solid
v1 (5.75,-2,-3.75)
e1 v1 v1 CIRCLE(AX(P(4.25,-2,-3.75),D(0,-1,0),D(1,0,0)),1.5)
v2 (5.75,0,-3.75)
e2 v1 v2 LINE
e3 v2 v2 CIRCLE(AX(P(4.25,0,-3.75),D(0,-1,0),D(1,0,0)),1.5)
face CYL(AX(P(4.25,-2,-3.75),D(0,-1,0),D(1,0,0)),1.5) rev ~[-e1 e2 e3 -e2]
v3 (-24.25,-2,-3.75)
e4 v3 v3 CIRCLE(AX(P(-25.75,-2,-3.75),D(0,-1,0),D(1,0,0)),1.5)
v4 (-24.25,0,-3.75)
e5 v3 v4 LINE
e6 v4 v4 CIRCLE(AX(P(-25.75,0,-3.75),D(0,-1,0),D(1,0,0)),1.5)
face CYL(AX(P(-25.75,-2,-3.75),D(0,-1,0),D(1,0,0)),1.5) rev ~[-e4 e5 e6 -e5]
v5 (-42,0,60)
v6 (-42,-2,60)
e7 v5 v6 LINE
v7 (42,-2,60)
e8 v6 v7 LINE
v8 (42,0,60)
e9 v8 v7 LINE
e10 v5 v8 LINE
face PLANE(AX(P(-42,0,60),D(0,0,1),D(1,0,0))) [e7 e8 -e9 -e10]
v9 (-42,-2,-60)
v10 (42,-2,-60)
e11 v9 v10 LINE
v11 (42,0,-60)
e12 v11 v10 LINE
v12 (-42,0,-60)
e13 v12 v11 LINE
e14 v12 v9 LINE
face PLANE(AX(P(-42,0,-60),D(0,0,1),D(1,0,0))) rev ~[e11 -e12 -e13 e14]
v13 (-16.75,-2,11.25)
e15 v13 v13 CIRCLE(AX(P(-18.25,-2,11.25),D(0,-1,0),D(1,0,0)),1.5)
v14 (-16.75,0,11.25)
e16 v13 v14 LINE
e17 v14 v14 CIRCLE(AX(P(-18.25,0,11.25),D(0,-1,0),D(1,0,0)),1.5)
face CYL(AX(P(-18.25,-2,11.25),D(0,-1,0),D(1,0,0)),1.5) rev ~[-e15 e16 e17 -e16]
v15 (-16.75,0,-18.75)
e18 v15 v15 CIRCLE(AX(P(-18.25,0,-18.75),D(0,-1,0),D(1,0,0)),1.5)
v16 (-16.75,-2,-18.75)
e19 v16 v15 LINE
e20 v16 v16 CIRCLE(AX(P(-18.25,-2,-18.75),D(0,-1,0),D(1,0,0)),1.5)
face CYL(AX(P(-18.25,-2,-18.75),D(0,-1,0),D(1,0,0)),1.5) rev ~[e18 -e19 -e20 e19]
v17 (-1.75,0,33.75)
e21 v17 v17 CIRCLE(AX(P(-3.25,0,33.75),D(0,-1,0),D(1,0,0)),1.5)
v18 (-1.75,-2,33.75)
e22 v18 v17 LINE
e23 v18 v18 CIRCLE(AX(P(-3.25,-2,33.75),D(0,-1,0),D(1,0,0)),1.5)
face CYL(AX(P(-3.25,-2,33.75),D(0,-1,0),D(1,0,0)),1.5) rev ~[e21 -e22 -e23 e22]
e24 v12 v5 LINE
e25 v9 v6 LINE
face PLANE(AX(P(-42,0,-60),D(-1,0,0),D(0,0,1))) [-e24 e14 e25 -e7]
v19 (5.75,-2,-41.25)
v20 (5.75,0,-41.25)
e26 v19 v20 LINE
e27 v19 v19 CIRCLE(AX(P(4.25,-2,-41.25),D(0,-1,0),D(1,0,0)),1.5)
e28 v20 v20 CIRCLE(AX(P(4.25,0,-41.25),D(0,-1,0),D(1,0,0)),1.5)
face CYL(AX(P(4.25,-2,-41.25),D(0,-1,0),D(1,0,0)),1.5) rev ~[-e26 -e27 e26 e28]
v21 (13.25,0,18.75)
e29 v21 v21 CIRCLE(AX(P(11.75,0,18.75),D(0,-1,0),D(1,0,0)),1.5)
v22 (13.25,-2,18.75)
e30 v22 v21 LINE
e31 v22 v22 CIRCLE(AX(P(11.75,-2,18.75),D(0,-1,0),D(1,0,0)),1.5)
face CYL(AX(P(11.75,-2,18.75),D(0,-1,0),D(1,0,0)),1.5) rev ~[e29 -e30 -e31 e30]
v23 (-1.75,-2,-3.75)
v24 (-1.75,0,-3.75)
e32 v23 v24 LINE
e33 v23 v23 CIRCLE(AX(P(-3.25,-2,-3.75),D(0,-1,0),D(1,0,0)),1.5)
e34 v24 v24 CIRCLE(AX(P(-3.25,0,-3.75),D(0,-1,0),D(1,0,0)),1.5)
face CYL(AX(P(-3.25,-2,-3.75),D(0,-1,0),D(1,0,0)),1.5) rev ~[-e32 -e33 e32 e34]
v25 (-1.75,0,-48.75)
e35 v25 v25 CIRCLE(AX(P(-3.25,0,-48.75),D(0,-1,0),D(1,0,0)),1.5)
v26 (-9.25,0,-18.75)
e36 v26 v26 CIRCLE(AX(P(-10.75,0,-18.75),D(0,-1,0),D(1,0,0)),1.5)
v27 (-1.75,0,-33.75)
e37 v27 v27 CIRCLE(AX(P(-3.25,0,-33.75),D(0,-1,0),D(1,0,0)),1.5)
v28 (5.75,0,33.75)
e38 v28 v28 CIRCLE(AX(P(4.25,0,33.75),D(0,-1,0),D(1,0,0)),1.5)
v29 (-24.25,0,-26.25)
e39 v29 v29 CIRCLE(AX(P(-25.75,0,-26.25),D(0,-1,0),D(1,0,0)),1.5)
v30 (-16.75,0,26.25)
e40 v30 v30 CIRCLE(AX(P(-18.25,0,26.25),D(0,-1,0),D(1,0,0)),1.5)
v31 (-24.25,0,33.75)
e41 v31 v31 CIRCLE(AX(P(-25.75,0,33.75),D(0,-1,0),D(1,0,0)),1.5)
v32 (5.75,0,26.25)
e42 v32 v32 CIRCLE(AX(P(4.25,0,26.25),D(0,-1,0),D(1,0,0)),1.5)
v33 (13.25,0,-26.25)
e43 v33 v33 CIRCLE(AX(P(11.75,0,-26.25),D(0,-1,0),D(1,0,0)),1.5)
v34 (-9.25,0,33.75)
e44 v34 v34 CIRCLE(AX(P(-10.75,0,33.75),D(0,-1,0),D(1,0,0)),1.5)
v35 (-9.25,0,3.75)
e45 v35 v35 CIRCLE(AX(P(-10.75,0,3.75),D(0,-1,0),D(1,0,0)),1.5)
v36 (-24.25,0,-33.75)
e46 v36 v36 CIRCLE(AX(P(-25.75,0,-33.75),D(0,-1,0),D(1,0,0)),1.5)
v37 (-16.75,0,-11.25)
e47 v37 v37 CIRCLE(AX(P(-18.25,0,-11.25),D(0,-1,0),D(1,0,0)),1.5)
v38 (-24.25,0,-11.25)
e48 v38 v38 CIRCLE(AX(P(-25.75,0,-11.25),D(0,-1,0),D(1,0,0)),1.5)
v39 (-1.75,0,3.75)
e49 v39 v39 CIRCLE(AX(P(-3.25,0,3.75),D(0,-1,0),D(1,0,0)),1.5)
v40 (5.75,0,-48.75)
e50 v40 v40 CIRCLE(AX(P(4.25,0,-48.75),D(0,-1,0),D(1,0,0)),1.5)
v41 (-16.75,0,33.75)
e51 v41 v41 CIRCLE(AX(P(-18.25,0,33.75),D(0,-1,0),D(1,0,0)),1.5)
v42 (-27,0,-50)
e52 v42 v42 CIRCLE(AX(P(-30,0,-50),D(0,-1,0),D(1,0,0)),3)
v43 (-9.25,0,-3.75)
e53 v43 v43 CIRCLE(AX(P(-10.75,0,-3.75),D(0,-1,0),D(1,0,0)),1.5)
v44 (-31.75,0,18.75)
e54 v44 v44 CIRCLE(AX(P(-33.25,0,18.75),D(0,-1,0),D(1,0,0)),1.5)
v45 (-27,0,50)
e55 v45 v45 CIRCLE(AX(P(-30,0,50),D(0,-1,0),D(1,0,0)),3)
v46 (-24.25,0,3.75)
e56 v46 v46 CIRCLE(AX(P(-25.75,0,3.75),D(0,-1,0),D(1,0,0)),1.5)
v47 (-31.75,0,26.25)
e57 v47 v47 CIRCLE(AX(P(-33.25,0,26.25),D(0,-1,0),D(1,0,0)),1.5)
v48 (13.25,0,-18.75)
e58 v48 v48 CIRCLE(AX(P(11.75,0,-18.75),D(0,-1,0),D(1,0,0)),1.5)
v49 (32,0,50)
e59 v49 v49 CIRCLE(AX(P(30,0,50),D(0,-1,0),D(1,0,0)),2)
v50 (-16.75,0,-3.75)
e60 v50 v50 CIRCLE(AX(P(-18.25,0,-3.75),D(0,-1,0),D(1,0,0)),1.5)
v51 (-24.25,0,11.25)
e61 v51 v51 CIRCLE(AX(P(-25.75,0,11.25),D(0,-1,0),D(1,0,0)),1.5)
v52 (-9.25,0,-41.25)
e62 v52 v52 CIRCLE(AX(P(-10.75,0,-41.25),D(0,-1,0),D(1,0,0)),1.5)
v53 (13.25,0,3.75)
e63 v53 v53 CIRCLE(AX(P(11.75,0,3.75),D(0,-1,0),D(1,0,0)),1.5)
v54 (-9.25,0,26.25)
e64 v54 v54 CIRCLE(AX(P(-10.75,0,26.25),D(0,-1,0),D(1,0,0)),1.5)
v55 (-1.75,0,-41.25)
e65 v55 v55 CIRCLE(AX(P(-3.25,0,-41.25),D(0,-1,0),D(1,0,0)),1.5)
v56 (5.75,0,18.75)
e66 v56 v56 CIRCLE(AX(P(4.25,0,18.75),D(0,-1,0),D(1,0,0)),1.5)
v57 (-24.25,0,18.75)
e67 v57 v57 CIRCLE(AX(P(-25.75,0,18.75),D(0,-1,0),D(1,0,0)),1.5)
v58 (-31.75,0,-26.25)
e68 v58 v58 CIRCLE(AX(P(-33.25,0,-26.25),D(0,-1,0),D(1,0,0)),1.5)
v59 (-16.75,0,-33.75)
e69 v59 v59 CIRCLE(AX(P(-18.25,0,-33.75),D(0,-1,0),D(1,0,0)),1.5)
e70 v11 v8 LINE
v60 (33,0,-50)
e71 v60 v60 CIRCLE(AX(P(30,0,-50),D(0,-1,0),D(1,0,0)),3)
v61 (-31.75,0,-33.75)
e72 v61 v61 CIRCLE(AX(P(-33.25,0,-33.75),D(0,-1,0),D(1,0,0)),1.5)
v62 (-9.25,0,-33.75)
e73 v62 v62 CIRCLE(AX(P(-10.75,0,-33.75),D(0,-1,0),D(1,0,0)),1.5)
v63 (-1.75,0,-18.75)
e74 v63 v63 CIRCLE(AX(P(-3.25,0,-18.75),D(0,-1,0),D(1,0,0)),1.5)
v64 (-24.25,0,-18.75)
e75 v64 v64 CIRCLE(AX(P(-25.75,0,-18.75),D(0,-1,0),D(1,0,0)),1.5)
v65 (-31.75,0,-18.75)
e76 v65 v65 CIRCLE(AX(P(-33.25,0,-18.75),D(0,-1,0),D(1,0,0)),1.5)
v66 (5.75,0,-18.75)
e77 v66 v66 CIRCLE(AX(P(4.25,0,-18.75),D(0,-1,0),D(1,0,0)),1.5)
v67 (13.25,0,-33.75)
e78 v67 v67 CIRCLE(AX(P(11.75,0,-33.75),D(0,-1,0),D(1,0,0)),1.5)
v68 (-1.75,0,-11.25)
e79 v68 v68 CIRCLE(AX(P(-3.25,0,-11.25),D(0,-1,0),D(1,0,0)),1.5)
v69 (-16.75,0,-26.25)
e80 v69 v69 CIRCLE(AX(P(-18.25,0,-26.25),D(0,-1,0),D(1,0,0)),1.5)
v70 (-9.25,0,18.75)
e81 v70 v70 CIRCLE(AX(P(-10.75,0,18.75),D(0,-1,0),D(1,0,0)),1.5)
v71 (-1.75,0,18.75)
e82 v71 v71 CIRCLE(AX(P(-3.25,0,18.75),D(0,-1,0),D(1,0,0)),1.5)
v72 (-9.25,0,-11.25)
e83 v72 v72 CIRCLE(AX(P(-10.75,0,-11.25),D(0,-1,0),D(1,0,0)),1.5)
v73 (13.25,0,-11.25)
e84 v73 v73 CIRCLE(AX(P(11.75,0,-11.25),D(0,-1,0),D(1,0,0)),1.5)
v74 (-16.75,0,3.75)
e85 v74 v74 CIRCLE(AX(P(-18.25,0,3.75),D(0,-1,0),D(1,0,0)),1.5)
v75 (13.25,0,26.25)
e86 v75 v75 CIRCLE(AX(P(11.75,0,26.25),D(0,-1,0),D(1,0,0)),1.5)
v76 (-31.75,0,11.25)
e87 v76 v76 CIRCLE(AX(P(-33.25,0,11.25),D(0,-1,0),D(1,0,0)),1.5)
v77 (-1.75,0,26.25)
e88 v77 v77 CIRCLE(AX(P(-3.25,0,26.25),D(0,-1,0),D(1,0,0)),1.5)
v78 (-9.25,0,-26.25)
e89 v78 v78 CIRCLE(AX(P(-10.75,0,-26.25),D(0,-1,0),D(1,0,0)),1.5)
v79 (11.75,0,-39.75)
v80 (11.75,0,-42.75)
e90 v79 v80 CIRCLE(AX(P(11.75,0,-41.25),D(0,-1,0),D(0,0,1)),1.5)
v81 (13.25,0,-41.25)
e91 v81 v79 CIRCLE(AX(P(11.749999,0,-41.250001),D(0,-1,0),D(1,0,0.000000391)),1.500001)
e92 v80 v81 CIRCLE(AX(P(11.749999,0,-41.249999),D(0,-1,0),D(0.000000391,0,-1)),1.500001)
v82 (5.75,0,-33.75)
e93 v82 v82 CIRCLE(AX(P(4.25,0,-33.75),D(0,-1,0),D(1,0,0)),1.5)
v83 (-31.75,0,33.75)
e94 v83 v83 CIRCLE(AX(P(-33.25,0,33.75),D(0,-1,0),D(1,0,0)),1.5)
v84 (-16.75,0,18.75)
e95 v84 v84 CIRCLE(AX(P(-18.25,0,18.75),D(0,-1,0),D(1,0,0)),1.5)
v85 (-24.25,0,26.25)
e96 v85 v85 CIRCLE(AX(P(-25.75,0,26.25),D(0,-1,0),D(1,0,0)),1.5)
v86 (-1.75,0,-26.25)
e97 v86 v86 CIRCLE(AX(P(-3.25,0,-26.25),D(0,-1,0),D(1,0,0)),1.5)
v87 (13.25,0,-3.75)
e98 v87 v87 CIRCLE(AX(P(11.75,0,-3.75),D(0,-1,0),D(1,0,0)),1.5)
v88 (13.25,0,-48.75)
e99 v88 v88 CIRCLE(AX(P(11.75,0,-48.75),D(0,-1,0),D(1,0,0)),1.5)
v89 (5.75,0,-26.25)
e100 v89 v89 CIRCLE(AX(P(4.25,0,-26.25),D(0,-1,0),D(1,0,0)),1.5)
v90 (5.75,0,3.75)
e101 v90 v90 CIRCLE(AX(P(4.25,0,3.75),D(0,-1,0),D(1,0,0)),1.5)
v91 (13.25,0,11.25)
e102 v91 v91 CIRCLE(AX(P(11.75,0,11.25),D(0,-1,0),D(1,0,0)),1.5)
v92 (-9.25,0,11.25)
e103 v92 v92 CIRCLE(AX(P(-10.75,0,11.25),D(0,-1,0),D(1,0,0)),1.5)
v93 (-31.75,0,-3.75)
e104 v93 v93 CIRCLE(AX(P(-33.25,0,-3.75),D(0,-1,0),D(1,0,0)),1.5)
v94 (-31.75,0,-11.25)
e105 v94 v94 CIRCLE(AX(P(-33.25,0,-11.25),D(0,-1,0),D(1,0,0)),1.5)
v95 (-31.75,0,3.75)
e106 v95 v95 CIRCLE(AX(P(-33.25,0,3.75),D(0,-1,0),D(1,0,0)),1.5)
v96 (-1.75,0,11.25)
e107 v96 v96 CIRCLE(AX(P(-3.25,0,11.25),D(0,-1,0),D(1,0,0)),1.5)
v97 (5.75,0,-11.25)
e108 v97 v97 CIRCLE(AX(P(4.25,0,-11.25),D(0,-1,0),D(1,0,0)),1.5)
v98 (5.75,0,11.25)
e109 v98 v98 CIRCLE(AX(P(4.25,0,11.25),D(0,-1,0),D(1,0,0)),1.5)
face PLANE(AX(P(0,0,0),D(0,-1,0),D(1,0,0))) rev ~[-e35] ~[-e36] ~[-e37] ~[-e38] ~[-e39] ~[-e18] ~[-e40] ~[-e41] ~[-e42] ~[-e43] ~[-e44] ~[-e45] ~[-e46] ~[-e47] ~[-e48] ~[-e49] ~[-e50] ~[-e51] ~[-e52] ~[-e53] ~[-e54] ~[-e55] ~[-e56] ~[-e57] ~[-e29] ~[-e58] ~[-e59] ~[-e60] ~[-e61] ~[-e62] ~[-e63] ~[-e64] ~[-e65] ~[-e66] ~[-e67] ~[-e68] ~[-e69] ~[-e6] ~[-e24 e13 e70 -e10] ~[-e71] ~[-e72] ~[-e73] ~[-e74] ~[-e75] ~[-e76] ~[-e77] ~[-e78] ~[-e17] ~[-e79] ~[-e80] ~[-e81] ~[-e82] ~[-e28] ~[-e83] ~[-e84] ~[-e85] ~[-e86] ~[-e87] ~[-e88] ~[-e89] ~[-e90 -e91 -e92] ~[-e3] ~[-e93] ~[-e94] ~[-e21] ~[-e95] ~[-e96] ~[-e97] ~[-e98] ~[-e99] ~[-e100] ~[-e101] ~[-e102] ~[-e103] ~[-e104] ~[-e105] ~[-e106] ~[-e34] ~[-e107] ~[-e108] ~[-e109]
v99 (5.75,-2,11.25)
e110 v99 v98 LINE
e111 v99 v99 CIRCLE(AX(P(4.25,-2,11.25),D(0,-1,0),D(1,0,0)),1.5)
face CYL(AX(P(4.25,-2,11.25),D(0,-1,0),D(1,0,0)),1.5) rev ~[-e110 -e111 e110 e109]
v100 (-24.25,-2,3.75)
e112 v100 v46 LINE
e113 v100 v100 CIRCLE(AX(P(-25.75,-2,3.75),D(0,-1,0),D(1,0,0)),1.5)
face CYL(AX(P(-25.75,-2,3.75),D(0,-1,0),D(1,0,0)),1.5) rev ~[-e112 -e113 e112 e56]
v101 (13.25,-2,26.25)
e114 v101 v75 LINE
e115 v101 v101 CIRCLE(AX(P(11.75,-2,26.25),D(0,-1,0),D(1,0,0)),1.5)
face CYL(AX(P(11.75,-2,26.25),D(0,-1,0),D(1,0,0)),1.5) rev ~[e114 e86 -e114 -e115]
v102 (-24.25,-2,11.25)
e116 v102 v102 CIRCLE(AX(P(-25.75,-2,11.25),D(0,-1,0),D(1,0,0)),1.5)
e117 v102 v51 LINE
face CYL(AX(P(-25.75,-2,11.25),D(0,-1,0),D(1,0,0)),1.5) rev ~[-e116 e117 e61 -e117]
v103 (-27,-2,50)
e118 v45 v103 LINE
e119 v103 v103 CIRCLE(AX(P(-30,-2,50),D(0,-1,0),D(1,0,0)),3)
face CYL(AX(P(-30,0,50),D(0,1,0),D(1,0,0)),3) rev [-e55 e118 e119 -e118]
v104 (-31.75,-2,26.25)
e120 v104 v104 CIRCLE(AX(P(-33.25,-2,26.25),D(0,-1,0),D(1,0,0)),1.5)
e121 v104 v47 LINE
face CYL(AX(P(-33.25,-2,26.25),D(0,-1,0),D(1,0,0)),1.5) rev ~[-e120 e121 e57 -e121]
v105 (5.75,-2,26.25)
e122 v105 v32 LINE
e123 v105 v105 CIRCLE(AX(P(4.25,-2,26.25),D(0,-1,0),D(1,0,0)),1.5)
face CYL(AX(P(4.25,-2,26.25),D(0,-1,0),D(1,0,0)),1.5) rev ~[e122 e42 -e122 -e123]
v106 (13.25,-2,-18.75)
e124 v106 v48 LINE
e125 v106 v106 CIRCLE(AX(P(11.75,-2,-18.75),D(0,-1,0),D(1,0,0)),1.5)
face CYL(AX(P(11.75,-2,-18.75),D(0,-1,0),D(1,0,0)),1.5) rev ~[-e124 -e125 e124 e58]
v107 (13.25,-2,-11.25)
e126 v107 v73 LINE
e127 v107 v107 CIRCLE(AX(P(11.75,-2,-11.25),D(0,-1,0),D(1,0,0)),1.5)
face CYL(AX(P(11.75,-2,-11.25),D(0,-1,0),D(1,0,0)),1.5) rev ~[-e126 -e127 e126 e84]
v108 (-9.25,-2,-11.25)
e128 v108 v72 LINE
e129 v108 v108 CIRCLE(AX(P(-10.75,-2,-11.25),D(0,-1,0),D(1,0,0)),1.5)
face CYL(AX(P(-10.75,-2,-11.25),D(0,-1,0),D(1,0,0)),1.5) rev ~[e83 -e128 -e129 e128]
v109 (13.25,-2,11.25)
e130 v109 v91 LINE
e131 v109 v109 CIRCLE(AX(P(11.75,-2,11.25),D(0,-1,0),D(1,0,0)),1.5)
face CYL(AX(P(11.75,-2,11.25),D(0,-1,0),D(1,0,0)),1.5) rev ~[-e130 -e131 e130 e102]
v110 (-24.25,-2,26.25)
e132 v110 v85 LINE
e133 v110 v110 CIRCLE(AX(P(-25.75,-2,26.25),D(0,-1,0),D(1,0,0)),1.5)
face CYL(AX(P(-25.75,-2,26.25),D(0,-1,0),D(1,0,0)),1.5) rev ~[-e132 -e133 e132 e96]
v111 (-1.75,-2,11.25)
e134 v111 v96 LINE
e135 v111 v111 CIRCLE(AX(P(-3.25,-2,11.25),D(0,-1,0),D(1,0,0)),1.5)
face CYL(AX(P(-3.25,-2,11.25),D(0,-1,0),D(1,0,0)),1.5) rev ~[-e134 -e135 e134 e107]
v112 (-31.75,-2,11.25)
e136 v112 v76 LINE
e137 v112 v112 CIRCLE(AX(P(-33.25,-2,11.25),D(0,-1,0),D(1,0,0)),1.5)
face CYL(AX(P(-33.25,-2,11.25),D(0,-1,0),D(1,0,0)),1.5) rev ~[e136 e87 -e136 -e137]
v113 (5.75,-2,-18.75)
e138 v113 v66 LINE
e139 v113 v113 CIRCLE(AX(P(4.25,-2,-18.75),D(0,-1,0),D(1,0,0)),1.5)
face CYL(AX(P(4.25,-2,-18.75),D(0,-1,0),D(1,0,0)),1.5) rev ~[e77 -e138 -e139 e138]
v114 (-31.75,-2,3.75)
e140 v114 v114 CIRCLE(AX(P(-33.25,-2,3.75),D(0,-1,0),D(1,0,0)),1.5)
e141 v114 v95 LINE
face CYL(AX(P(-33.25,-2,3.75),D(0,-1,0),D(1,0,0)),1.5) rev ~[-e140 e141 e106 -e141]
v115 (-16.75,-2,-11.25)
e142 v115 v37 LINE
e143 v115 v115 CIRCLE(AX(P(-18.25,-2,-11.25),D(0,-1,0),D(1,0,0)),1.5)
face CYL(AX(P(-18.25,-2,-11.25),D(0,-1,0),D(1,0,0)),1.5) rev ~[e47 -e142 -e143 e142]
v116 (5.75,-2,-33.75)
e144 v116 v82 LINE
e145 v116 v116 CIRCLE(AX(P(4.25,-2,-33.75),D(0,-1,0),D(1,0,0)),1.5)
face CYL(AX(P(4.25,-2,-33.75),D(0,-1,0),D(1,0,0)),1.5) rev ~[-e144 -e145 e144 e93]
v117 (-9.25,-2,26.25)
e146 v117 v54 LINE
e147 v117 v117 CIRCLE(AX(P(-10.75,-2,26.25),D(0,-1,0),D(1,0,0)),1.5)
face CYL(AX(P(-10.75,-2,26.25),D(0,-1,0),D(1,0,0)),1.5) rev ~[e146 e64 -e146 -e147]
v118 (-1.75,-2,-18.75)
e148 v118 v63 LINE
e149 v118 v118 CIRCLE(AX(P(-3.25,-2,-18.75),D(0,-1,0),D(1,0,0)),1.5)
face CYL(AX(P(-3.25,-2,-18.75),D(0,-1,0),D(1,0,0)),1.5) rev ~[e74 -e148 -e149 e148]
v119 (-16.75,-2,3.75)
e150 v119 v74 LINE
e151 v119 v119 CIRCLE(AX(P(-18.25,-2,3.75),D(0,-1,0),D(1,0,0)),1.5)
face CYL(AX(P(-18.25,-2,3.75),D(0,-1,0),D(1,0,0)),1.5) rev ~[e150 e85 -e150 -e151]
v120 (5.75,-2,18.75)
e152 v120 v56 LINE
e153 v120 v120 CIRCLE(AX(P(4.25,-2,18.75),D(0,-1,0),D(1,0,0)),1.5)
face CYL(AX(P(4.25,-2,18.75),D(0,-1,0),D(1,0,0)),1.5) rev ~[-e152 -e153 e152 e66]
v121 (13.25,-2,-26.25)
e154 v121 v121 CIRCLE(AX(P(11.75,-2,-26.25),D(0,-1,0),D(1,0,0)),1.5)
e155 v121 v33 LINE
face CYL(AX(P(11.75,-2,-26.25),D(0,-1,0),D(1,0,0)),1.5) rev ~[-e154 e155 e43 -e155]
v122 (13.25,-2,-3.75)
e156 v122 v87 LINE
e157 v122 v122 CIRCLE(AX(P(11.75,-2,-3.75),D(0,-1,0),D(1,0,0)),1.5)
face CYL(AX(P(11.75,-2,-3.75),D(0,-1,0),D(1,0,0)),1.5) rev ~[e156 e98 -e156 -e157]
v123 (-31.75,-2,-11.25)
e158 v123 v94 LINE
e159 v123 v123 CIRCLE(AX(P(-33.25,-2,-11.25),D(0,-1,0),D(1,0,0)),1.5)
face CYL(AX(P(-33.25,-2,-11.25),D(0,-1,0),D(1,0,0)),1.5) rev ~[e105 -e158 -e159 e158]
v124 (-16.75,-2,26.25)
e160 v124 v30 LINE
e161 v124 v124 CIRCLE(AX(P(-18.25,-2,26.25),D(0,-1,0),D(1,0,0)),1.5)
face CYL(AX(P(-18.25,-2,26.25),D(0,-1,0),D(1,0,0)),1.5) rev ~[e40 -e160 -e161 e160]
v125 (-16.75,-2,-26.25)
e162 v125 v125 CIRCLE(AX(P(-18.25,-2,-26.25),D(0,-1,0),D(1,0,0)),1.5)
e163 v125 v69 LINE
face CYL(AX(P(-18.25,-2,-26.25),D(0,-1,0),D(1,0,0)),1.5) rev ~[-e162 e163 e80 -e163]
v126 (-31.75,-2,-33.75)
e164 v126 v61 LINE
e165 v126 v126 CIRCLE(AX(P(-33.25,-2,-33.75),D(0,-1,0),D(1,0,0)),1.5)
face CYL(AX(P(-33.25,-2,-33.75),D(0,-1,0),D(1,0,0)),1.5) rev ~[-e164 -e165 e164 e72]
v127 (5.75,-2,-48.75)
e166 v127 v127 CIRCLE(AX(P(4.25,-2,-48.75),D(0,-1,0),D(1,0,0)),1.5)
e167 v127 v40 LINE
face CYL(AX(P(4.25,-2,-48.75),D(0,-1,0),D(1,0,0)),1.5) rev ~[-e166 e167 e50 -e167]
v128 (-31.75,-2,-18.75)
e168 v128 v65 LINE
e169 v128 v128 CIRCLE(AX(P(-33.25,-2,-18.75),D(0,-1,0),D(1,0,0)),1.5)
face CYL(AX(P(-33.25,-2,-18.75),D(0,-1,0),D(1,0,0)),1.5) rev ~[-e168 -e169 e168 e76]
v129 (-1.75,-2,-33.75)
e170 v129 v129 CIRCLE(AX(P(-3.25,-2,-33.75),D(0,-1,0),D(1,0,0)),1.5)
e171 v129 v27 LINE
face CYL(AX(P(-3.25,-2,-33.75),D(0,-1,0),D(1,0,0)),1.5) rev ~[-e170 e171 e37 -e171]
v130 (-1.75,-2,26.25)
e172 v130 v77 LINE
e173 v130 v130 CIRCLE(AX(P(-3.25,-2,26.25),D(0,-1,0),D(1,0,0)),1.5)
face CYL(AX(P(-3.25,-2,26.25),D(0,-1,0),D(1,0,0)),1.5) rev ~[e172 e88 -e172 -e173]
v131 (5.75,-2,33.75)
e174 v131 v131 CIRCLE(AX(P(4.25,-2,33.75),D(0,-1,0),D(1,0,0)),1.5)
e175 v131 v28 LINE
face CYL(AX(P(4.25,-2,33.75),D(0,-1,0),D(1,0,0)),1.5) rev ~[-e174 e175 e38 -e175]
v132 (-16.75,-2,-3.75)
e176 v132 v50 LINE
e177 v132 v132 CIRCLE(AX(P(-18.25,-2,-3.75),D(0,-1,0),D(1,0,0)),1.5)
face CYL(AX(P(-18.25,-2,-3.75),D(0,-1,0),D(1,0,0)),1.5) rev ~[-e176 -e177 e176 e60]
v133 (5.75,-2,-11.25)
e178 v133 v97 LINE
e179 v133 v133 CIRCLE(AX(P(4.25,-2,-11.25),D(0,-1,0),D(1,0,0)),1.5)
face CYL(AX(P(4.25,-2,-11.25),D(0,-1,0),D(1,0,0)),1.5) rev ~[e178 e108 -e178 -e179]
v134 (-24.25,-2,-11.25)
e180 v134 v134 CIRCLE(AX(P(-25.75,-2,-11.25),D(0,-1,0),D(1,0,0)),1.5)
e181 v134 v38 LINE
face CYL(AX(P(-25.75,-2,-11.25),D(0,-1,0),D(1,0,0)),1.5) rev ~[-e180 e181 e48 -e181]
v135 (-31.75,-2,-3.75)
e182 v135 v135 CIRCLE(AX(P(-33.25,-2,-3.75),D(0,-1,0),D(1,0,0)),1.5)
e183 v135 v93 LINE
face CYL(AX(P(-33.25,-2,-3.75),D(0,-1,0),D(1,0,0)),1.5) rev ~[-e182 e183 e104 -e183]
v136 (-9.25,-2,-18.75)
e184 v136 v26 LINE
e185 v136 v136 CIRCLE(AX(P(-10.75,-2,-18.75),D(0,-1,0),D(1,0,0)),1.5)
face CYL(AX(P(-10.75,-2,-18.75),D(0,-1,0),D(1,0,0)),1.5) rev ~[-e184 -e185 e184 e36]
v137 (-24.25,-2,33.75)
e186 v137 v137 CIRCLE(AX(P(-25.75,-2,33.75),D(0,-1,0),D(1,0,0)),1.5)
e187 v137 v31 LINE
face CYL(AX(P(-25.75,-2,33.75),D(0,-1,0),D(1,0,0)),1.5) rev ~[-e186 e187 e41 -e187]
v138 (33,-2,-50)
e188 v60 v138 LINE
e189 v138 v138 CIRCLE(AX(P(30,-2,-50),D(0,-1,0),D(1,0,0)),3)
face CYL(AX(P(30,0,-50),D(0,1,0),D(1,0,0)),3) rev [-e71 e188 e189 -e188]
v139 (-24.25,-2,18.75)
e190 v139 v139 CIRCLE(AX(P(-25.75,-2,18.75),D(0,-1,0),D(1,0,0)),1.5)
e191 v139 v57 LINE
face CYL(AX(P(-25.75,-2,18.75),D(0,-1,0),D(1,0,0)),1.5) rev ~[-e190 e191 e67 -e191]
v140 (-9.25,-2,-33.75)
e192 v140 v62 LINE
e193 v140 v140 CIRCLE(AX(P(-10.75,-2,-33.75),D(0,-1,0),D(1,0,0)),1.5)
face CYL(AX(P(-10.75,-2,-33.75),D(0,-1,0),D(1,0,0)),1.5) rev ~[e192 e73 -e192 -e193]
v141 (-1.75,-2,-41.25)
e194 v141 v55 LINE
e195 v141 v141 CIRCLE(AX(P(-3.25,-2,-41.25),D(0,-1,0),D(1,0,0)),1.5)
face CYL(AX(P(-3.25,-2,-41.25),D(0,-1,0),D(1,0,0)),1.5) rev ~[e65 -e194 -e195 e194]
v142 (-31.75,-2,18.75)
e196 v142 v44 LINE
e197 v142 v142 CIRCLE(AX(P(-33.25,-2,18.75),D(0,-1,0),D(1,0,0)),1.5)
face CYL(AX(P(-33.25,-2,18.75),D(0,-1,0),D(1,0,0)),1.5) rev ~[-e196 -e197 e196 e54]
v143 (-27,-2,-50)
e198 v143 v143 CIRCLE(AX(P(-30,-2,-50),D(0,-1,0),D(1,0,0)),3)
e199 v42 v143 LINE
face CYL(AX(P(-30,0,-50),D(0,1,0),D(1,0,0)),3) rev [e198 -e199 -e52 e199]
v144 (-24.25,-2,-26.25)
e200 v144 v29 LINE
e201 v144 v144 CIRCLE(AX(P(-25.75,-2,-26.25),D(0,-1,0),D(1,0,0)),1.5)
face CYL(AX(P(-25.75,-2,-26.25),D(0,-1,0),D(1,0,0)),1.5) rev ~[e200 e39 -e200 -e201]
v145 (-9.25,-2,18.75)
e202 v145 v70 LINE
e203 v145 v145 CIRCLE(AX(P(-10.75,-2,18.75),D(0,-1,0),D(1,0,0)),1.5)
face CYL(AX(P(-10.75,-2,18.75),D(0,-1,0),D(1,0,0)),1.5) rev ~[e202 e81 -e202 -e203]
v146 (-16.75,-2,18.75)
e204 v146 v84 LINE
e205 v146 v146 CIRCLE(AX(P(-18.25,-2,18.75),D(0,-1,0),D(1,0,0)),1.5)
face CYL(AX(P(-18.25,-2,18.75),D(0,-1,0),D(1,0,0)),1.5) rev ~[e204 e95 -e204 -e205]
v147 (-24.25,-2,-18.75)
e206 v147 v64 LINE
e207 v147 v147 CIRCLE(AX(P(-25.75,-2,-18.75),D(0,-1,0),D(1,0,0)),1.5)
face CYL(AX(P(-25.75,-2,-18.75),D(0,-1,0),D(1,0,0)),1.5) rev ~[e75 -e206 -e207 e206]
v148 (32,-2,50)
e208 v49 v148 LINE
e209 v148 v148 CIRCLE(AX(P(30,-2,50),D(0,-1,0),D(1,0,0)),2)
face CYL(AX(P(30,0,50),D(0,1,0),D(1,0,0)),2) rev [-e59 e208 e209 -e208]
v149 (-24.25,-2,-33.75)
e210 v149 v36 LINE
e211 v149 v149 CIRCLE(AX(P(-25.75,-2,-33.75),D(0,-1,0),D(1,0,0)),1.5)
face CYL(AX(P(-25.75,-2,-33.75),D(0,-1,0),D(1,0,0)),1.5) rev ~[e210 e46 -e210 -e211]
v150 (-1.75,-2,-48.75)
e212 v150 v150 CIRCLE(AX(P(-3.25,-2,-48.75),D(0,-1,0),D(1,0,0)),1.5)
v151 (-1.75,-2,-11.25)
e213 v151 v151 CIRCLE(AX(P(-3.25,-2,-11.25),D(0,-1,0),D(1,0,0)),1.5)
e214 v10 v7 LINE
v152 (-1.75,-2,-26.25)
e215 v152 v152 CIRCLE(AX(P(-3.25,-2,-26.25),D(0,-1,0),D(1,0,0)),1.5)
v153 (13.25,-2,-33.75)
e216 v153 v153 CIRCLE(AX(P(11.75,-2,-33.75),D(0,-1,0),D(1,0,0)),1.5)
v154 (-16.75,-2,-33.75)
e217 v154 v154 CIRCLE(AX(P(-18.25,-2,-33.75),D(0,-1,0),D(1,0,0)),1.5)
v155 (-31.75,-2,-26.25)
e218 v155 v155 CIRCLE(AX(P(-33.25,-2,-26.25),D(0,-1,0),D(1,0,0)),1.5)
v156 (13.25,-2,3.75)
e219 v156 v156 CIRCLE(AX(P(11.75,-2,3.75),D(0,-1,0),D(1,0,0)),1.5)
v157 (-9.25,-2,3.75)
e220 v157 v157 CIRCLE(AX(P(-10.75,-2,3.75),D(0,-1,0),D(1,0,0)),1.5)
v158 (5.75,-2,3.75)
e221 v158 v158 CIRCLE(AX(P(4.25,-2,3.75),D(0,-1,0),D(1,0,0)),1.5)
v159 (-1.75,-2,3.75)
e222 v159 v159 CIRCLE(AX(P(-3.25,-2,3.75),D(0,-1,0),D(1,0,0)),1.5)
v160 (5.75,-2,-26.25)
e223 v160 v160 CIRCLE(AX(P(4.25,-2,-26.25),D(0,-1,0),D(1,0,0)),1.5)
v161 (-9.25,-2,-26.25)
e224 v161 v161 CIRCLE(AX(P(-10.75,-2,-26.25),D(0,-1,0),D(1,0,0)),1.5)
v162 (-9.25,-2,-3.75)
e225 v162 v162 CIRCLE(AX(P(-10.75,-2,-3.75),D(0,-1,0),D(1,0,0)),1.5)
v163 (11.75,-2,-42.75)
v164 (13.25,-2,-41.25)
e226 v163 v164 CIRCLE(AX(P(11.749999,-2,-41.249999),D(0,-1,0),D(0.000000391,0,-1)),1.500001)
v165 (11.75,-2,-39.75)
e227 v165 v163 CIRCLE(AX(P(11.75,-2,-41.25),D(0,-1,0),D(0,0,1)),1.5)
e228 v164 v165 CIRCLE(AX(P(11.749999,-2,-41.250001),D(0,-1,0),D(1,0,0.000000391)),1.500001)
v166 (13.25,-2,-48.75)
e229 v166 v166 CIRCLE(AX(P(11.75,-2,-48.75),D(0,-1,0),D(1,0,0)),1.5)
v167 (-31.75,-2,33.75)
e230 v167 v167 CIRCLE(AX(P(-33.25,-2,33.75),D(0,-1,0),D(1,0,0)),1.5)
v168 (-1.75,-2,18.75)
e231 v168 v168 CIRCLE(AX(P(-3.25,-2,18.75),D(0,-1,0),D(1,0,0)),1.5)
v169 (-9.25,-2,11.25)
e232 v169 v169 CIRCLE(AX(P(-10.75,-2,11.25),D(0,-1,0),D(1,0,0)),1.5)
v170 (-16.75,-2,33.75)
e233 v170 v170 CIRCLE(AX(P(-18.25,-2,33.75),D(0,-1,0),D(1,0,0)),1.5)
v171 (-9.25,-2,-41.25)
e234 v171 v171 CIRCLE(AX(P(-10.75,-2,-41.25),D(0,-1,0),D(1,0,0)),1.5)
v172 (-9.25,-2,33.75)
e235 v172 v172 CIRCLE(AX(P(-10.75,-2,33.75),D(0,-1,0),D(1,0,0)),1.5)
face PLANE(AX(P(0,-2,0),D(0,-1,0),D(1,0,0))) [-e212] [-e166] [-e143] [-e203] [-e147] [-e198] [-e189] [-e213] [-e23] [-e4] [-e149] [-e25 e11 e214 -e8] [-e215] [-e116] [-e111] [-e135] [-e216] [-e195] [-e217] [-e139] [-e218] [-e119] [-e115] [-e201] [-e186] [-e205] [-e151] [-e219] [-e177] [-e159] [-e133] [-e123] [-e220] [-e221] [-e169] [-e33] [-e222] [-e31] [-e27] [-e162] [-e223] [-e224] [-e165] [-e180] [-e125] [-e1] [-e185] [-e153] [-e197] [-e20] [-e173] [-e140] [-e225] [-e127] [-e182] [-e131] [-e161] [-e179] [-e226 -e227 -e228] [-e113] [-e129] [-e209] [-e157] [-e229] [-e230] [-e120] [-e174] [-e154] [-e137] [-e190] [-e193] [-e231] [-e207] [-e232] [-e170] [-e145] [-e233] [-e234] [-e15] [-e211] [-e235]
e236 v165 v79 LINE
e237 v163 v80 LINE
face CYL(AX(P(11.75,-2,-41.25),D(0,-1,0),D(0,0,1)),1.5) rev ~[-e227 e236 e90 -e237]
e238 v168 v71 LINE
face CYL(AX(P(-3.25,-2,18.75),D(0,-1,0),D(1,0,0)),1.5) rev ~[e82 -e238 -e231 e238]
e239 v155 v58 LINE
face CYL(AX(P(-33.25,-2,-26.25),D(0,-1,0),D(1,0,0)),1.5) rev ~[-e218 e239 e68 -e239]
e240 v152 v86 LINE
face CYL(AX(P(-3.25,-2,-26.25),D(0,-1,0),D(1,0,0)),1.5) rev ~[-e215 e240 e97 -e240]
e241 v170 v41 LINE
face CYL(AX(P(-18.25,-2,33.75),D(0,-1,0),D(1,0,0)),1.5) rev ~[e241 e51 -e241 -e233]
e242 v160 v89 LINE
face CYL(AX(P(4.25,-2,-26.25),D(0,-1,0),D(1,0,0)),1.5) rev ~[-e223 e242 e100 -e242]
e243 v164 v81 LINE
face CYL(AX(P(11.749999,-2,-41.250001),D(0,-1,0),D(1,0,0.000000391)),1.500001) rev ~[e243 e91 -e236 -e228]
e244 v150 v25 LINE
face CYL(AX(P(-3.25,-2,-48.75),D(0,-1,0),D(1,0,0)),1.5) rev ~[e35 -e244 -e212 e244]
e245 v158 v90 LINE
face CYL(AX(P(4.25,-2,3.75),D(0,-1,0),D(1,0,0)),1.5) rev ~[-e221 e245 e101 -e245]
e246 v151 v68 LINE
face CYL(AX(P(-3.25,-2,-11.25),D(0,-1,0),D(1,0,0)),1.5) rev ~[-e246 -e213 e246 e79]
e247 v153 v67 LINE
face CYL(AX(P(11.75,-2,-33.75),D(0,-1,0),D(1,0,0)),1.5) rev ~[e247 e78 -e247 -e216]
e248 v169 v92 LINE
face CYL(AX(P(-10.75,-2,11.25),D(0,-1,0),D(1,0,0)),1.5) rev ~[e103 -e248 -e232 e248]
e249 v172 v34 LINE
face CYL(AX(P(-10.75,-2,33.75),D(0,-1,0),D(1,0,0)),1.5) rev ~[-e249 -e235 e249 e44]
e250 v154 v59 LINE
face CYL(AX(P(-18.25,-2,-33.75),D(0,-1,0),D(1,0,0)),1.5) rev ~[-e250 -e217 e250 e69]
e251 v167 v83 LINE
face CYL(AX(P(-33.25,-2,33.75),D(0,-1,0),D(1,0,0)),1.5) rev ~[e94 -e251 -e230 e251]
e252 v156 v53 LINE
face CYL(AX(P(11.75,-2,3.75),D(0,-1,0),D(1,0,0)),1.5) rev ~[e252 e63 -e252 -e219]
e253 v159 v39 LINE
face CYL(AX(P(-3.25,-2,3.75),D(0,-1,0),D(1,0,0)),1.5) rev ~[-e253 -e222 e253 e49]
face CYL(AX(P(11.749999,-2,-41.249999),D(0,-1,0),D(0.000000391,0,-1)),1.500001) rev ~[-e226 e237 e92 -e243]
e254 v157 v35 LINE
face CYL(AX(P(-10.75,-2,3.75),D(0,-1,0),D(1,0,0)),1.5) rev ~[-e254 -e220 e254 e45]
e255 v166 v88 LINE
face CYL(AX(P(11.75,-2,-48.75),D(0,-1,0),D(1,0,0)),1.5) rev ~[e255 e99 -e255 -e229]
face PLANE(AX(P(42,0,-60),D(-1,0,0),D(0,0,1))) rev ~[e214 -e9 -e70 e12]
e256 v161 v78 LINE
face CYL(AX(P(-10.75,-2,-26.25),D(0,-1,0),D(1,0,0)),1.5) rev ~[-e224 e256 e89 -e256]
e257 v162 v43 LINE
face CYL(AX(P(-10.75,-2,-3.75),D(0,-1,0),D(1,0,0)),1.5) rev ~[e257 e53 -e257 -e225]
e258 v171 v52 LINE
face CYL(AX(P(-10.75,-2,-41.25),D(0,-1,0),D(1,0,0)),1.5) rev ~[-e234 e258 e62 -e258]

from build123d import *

# Parameters (mm, degrees)
F0_W     = 84
F0_H     = 120
F0_R     = 3
F0_R_2   = 2
F1_DEPTH = 2
F2_R     = 1.5
F3_DEPTH = 2.001
F4_R     = 1.5
F5_DEPTH = 2.001


with BuildPart() as f1:
    # F0 (on Front) → F1 (new body)
    with BuildSketch(Plane.XZ):
        Rectangle(F0_W, F0_H)
        with Locations((-30, -50)):
            Circle(F0_R, mode=Mode.SUBTRACT)
        with Locations((30, -50)):
            Circle(F0_R, mode=Mode.SUBTRACT)
        with Locations((-30, 50)):
            Circle(F0_R, mode=Mode.SUBTRACT)
        with Locations((30, 50)):
            Circle(F0_R_2, mode=Mode.SUBTRACT)
    extrude(amount=F1_DEPTH)

    # F2 (on face) → F3 (cut, through all)
    with BuildSketch(Plane.XZ.offset(2)):
        with Locations((-33.25, 33.75)):
            Circle(F2_R)
        with Locations((-33.25, 26.25)):
            Circle(F2_R)
        with Locations((-33.25, 18.75)):
            Circle(F2_R)
        with Locations((-33.25, 11.25)):
            Circle(F2_R)
        with Locations((-33.25, 3.75)):
            Circle(F2_R)
        with Locations((-33.25, -3.75)):
            Circle(F2_R)
        with Locations((-33.25, -11.25)):
            Circle(F2_R)
        with Locations((-33.25, -18.75)):
            Circle(F2_R)
        with Locations((-33.25, -26.25)):
            Circle(F2_R)
        with Locations((-33.25, -33.75)):
            Circle(F2_R)
        with Locations((-25.75, 33.75)):
            Circle(F2_R)
        with Locations((-25.75, 26.25)):
            Circle(F2_R)
        with Locations((-25.75, 18.75)):
            Circle(F2_R)
        with Locations((-25.75, 11.25)):
            Circle(F2_R)
        with Locations((-25.75, 3.75)):
            Circle(F2_R)
        with Locations((-25.75, -3.75)):
            Circle(F2_R)
        with Locations((-25.75, -11.25)):
            Circle(F2_R)
        with Locations((-25.75, -18.75)):
            Circle(F2_R)
        with Locations((-25.75, -26.25)):
            Circle(F2_R)
        with Locations((-25.75, -33.75)):
            Circle(F2_R)
        with Locations((-18.25, 33.75)):
            Circle(F2_R)
        with Locations((-18.25, 26.25)):
            Circle(F2_R)
        with Locations((-18.25, 18.75)):
            Circle(F2_R)
        with Locations((-18.25, 11.25)):
            Circle(F2_R)
        with Locations((-18.25, 3.75)):
            Circle(F2_R)
        with Locations((-18.25, -3.75)):
            Circle(F2_R)
        with Locations((-18.25, -11.25)):
            Circle(F2_R)
        with Locations((-18.25, -18.75)):
            Circle(F2_R)
        with Locations((-18.25, -26.25)):
            Circle(F2_R)
        with Locations((-18.25, -33.75)):
            Circle(F2_R)
        with Locations((-10.75, 33.75)):
            Circle(F2_R)
        with Locations((-10.75, 26.25)):
            Circle(F2_R)
        with Locations((-10.75, 18.75)):
            Circle(F2_R)
        with Locations((-10.75, 11.25)):
            Circle(F2_R)
        with Locations((-10.75, 3.75)):
            Circle(F2_R)
        with Locations((-10.75, -3.75)):
            Circle(F2_R)
        with Locations((-10.75, -11.25)):
            Circle(F2_R)
        with Locations((-10.75, -18.75)):
            Circle(F2_R)
        with Locations((-10.75, -26.25)):
            Circle(F2_R)
        with Locations((-10.75, -33.75)):
            Circle(F2_R)
        with Locations((-3.25, 33.75)):
            Circle(F2_R)
        with Locations((-3.25, 26.25)):
            Circle(F2_R)
        with Locations((-3.25, 18.75)):
            Circle(F2_R)
        with Locations((-3.25, 11.25)):
            Circle(F2_R)
        with Locations((-3.25, 3.75)):
            Circle(F2_R)
        with Locations((-3.25, -3.75)):
            Circle(F2_R)
        with Locations((-3.25, -11.25)):
            Circle(F2_R)
        with Locations((-3.25, -18.75)):
            Circle(F2_R)
        with Locations((-3.25, -26.25)):
            Circle(F2_R)
        with Locations((-3.25, -33.75)):
            Circle(F2_R)
        with Locations((4.25, 33.75)):
            Circle(F2_R)
        with Locations((4.25, 26.25)):
            Circle(F2_R)
        with Locations((4.25, 18.75)):
            Circle(F2_R)
        with Locations((4.25, 11.25)):
            Circle(F2_R)
        with Locations((4.25, 3.75)):
            Circle(F2_R)
        with Locations((4.25, -3.75)):
            Circle(F2_R)
        with Locations((4.25, -11.25)):
            Circle(F2_R)
        with Locations((4.25, -18.75)):
            Circle(F2_R)
        with Locations((4.25, -26.25)):
            Circle(F2_R)
        with Locations((4.25, -33.75)):
            Circle(F2_R)
        with Locations((11.75, 26.25)):
            Circle(F2_R)
        with Locations((11.75, 18.75)):
            Circle(F2_R)
        with Locations((11.75, 11.25)):
            Circle(F2_R)
        with Locations((11.75, 3.75)):
            Circle(F2_R)
        with Locations((11.75, -3.75)):
            Circle(F2_R)
        with Locations((11.75, -11.25)):
            Circle(F2_R)
        with Locations((11.75, -18.75)):
            Circle(F2_R)
        with Locations((11.75, -26.25)):
            Circle(F2_R)
        with Locations((11.75, -33.75)):
            Circle(F2_R)
    extrude(amount=-F3_DEPTH, mode=Mode.SUBTRACT)

    # F4 (on face) → F5 (cut, through all)
    with BuildSketch(Plane.XZ.offset(2)):
        with BuildLine():
            ThreePointArc((13.25, -41.25), (12.81066, -40.18934), (11.75, -39.75))
            Line((11.75, -39.75), (11.75, -42.75))
            ThreePointArc((11.75, -42.75), (12.81066, -42.31066), (13.25, -41.25))
        make_face()
        with BuildLine():
            Line((11.75, -42.75), (11.75, -39.75))
            ThreePointArc((11.75, -39.75), (10.25, -41.25), (11.75, -42.75))
        make_face()
        with Locations((11.75, -48.75)):
            Circle(F4_R)
        with Locations((4.25, -41.25)):
            Circle(F4_R)
        with Locations((4.25, -48.75)):
            Circle(F4_R)
        with Locations((-3.25, -41.25)):
            Circle(F4_R)
        with Locations((-3.25, -48.75)):
            Circle(F4_R)
        with Locations((-10.75, -41.25)):
            Circle(F4_R)
    extrude(amount=-F5_DEPTH, mode=Mode.SUBTRACT)


solid = f1.part
